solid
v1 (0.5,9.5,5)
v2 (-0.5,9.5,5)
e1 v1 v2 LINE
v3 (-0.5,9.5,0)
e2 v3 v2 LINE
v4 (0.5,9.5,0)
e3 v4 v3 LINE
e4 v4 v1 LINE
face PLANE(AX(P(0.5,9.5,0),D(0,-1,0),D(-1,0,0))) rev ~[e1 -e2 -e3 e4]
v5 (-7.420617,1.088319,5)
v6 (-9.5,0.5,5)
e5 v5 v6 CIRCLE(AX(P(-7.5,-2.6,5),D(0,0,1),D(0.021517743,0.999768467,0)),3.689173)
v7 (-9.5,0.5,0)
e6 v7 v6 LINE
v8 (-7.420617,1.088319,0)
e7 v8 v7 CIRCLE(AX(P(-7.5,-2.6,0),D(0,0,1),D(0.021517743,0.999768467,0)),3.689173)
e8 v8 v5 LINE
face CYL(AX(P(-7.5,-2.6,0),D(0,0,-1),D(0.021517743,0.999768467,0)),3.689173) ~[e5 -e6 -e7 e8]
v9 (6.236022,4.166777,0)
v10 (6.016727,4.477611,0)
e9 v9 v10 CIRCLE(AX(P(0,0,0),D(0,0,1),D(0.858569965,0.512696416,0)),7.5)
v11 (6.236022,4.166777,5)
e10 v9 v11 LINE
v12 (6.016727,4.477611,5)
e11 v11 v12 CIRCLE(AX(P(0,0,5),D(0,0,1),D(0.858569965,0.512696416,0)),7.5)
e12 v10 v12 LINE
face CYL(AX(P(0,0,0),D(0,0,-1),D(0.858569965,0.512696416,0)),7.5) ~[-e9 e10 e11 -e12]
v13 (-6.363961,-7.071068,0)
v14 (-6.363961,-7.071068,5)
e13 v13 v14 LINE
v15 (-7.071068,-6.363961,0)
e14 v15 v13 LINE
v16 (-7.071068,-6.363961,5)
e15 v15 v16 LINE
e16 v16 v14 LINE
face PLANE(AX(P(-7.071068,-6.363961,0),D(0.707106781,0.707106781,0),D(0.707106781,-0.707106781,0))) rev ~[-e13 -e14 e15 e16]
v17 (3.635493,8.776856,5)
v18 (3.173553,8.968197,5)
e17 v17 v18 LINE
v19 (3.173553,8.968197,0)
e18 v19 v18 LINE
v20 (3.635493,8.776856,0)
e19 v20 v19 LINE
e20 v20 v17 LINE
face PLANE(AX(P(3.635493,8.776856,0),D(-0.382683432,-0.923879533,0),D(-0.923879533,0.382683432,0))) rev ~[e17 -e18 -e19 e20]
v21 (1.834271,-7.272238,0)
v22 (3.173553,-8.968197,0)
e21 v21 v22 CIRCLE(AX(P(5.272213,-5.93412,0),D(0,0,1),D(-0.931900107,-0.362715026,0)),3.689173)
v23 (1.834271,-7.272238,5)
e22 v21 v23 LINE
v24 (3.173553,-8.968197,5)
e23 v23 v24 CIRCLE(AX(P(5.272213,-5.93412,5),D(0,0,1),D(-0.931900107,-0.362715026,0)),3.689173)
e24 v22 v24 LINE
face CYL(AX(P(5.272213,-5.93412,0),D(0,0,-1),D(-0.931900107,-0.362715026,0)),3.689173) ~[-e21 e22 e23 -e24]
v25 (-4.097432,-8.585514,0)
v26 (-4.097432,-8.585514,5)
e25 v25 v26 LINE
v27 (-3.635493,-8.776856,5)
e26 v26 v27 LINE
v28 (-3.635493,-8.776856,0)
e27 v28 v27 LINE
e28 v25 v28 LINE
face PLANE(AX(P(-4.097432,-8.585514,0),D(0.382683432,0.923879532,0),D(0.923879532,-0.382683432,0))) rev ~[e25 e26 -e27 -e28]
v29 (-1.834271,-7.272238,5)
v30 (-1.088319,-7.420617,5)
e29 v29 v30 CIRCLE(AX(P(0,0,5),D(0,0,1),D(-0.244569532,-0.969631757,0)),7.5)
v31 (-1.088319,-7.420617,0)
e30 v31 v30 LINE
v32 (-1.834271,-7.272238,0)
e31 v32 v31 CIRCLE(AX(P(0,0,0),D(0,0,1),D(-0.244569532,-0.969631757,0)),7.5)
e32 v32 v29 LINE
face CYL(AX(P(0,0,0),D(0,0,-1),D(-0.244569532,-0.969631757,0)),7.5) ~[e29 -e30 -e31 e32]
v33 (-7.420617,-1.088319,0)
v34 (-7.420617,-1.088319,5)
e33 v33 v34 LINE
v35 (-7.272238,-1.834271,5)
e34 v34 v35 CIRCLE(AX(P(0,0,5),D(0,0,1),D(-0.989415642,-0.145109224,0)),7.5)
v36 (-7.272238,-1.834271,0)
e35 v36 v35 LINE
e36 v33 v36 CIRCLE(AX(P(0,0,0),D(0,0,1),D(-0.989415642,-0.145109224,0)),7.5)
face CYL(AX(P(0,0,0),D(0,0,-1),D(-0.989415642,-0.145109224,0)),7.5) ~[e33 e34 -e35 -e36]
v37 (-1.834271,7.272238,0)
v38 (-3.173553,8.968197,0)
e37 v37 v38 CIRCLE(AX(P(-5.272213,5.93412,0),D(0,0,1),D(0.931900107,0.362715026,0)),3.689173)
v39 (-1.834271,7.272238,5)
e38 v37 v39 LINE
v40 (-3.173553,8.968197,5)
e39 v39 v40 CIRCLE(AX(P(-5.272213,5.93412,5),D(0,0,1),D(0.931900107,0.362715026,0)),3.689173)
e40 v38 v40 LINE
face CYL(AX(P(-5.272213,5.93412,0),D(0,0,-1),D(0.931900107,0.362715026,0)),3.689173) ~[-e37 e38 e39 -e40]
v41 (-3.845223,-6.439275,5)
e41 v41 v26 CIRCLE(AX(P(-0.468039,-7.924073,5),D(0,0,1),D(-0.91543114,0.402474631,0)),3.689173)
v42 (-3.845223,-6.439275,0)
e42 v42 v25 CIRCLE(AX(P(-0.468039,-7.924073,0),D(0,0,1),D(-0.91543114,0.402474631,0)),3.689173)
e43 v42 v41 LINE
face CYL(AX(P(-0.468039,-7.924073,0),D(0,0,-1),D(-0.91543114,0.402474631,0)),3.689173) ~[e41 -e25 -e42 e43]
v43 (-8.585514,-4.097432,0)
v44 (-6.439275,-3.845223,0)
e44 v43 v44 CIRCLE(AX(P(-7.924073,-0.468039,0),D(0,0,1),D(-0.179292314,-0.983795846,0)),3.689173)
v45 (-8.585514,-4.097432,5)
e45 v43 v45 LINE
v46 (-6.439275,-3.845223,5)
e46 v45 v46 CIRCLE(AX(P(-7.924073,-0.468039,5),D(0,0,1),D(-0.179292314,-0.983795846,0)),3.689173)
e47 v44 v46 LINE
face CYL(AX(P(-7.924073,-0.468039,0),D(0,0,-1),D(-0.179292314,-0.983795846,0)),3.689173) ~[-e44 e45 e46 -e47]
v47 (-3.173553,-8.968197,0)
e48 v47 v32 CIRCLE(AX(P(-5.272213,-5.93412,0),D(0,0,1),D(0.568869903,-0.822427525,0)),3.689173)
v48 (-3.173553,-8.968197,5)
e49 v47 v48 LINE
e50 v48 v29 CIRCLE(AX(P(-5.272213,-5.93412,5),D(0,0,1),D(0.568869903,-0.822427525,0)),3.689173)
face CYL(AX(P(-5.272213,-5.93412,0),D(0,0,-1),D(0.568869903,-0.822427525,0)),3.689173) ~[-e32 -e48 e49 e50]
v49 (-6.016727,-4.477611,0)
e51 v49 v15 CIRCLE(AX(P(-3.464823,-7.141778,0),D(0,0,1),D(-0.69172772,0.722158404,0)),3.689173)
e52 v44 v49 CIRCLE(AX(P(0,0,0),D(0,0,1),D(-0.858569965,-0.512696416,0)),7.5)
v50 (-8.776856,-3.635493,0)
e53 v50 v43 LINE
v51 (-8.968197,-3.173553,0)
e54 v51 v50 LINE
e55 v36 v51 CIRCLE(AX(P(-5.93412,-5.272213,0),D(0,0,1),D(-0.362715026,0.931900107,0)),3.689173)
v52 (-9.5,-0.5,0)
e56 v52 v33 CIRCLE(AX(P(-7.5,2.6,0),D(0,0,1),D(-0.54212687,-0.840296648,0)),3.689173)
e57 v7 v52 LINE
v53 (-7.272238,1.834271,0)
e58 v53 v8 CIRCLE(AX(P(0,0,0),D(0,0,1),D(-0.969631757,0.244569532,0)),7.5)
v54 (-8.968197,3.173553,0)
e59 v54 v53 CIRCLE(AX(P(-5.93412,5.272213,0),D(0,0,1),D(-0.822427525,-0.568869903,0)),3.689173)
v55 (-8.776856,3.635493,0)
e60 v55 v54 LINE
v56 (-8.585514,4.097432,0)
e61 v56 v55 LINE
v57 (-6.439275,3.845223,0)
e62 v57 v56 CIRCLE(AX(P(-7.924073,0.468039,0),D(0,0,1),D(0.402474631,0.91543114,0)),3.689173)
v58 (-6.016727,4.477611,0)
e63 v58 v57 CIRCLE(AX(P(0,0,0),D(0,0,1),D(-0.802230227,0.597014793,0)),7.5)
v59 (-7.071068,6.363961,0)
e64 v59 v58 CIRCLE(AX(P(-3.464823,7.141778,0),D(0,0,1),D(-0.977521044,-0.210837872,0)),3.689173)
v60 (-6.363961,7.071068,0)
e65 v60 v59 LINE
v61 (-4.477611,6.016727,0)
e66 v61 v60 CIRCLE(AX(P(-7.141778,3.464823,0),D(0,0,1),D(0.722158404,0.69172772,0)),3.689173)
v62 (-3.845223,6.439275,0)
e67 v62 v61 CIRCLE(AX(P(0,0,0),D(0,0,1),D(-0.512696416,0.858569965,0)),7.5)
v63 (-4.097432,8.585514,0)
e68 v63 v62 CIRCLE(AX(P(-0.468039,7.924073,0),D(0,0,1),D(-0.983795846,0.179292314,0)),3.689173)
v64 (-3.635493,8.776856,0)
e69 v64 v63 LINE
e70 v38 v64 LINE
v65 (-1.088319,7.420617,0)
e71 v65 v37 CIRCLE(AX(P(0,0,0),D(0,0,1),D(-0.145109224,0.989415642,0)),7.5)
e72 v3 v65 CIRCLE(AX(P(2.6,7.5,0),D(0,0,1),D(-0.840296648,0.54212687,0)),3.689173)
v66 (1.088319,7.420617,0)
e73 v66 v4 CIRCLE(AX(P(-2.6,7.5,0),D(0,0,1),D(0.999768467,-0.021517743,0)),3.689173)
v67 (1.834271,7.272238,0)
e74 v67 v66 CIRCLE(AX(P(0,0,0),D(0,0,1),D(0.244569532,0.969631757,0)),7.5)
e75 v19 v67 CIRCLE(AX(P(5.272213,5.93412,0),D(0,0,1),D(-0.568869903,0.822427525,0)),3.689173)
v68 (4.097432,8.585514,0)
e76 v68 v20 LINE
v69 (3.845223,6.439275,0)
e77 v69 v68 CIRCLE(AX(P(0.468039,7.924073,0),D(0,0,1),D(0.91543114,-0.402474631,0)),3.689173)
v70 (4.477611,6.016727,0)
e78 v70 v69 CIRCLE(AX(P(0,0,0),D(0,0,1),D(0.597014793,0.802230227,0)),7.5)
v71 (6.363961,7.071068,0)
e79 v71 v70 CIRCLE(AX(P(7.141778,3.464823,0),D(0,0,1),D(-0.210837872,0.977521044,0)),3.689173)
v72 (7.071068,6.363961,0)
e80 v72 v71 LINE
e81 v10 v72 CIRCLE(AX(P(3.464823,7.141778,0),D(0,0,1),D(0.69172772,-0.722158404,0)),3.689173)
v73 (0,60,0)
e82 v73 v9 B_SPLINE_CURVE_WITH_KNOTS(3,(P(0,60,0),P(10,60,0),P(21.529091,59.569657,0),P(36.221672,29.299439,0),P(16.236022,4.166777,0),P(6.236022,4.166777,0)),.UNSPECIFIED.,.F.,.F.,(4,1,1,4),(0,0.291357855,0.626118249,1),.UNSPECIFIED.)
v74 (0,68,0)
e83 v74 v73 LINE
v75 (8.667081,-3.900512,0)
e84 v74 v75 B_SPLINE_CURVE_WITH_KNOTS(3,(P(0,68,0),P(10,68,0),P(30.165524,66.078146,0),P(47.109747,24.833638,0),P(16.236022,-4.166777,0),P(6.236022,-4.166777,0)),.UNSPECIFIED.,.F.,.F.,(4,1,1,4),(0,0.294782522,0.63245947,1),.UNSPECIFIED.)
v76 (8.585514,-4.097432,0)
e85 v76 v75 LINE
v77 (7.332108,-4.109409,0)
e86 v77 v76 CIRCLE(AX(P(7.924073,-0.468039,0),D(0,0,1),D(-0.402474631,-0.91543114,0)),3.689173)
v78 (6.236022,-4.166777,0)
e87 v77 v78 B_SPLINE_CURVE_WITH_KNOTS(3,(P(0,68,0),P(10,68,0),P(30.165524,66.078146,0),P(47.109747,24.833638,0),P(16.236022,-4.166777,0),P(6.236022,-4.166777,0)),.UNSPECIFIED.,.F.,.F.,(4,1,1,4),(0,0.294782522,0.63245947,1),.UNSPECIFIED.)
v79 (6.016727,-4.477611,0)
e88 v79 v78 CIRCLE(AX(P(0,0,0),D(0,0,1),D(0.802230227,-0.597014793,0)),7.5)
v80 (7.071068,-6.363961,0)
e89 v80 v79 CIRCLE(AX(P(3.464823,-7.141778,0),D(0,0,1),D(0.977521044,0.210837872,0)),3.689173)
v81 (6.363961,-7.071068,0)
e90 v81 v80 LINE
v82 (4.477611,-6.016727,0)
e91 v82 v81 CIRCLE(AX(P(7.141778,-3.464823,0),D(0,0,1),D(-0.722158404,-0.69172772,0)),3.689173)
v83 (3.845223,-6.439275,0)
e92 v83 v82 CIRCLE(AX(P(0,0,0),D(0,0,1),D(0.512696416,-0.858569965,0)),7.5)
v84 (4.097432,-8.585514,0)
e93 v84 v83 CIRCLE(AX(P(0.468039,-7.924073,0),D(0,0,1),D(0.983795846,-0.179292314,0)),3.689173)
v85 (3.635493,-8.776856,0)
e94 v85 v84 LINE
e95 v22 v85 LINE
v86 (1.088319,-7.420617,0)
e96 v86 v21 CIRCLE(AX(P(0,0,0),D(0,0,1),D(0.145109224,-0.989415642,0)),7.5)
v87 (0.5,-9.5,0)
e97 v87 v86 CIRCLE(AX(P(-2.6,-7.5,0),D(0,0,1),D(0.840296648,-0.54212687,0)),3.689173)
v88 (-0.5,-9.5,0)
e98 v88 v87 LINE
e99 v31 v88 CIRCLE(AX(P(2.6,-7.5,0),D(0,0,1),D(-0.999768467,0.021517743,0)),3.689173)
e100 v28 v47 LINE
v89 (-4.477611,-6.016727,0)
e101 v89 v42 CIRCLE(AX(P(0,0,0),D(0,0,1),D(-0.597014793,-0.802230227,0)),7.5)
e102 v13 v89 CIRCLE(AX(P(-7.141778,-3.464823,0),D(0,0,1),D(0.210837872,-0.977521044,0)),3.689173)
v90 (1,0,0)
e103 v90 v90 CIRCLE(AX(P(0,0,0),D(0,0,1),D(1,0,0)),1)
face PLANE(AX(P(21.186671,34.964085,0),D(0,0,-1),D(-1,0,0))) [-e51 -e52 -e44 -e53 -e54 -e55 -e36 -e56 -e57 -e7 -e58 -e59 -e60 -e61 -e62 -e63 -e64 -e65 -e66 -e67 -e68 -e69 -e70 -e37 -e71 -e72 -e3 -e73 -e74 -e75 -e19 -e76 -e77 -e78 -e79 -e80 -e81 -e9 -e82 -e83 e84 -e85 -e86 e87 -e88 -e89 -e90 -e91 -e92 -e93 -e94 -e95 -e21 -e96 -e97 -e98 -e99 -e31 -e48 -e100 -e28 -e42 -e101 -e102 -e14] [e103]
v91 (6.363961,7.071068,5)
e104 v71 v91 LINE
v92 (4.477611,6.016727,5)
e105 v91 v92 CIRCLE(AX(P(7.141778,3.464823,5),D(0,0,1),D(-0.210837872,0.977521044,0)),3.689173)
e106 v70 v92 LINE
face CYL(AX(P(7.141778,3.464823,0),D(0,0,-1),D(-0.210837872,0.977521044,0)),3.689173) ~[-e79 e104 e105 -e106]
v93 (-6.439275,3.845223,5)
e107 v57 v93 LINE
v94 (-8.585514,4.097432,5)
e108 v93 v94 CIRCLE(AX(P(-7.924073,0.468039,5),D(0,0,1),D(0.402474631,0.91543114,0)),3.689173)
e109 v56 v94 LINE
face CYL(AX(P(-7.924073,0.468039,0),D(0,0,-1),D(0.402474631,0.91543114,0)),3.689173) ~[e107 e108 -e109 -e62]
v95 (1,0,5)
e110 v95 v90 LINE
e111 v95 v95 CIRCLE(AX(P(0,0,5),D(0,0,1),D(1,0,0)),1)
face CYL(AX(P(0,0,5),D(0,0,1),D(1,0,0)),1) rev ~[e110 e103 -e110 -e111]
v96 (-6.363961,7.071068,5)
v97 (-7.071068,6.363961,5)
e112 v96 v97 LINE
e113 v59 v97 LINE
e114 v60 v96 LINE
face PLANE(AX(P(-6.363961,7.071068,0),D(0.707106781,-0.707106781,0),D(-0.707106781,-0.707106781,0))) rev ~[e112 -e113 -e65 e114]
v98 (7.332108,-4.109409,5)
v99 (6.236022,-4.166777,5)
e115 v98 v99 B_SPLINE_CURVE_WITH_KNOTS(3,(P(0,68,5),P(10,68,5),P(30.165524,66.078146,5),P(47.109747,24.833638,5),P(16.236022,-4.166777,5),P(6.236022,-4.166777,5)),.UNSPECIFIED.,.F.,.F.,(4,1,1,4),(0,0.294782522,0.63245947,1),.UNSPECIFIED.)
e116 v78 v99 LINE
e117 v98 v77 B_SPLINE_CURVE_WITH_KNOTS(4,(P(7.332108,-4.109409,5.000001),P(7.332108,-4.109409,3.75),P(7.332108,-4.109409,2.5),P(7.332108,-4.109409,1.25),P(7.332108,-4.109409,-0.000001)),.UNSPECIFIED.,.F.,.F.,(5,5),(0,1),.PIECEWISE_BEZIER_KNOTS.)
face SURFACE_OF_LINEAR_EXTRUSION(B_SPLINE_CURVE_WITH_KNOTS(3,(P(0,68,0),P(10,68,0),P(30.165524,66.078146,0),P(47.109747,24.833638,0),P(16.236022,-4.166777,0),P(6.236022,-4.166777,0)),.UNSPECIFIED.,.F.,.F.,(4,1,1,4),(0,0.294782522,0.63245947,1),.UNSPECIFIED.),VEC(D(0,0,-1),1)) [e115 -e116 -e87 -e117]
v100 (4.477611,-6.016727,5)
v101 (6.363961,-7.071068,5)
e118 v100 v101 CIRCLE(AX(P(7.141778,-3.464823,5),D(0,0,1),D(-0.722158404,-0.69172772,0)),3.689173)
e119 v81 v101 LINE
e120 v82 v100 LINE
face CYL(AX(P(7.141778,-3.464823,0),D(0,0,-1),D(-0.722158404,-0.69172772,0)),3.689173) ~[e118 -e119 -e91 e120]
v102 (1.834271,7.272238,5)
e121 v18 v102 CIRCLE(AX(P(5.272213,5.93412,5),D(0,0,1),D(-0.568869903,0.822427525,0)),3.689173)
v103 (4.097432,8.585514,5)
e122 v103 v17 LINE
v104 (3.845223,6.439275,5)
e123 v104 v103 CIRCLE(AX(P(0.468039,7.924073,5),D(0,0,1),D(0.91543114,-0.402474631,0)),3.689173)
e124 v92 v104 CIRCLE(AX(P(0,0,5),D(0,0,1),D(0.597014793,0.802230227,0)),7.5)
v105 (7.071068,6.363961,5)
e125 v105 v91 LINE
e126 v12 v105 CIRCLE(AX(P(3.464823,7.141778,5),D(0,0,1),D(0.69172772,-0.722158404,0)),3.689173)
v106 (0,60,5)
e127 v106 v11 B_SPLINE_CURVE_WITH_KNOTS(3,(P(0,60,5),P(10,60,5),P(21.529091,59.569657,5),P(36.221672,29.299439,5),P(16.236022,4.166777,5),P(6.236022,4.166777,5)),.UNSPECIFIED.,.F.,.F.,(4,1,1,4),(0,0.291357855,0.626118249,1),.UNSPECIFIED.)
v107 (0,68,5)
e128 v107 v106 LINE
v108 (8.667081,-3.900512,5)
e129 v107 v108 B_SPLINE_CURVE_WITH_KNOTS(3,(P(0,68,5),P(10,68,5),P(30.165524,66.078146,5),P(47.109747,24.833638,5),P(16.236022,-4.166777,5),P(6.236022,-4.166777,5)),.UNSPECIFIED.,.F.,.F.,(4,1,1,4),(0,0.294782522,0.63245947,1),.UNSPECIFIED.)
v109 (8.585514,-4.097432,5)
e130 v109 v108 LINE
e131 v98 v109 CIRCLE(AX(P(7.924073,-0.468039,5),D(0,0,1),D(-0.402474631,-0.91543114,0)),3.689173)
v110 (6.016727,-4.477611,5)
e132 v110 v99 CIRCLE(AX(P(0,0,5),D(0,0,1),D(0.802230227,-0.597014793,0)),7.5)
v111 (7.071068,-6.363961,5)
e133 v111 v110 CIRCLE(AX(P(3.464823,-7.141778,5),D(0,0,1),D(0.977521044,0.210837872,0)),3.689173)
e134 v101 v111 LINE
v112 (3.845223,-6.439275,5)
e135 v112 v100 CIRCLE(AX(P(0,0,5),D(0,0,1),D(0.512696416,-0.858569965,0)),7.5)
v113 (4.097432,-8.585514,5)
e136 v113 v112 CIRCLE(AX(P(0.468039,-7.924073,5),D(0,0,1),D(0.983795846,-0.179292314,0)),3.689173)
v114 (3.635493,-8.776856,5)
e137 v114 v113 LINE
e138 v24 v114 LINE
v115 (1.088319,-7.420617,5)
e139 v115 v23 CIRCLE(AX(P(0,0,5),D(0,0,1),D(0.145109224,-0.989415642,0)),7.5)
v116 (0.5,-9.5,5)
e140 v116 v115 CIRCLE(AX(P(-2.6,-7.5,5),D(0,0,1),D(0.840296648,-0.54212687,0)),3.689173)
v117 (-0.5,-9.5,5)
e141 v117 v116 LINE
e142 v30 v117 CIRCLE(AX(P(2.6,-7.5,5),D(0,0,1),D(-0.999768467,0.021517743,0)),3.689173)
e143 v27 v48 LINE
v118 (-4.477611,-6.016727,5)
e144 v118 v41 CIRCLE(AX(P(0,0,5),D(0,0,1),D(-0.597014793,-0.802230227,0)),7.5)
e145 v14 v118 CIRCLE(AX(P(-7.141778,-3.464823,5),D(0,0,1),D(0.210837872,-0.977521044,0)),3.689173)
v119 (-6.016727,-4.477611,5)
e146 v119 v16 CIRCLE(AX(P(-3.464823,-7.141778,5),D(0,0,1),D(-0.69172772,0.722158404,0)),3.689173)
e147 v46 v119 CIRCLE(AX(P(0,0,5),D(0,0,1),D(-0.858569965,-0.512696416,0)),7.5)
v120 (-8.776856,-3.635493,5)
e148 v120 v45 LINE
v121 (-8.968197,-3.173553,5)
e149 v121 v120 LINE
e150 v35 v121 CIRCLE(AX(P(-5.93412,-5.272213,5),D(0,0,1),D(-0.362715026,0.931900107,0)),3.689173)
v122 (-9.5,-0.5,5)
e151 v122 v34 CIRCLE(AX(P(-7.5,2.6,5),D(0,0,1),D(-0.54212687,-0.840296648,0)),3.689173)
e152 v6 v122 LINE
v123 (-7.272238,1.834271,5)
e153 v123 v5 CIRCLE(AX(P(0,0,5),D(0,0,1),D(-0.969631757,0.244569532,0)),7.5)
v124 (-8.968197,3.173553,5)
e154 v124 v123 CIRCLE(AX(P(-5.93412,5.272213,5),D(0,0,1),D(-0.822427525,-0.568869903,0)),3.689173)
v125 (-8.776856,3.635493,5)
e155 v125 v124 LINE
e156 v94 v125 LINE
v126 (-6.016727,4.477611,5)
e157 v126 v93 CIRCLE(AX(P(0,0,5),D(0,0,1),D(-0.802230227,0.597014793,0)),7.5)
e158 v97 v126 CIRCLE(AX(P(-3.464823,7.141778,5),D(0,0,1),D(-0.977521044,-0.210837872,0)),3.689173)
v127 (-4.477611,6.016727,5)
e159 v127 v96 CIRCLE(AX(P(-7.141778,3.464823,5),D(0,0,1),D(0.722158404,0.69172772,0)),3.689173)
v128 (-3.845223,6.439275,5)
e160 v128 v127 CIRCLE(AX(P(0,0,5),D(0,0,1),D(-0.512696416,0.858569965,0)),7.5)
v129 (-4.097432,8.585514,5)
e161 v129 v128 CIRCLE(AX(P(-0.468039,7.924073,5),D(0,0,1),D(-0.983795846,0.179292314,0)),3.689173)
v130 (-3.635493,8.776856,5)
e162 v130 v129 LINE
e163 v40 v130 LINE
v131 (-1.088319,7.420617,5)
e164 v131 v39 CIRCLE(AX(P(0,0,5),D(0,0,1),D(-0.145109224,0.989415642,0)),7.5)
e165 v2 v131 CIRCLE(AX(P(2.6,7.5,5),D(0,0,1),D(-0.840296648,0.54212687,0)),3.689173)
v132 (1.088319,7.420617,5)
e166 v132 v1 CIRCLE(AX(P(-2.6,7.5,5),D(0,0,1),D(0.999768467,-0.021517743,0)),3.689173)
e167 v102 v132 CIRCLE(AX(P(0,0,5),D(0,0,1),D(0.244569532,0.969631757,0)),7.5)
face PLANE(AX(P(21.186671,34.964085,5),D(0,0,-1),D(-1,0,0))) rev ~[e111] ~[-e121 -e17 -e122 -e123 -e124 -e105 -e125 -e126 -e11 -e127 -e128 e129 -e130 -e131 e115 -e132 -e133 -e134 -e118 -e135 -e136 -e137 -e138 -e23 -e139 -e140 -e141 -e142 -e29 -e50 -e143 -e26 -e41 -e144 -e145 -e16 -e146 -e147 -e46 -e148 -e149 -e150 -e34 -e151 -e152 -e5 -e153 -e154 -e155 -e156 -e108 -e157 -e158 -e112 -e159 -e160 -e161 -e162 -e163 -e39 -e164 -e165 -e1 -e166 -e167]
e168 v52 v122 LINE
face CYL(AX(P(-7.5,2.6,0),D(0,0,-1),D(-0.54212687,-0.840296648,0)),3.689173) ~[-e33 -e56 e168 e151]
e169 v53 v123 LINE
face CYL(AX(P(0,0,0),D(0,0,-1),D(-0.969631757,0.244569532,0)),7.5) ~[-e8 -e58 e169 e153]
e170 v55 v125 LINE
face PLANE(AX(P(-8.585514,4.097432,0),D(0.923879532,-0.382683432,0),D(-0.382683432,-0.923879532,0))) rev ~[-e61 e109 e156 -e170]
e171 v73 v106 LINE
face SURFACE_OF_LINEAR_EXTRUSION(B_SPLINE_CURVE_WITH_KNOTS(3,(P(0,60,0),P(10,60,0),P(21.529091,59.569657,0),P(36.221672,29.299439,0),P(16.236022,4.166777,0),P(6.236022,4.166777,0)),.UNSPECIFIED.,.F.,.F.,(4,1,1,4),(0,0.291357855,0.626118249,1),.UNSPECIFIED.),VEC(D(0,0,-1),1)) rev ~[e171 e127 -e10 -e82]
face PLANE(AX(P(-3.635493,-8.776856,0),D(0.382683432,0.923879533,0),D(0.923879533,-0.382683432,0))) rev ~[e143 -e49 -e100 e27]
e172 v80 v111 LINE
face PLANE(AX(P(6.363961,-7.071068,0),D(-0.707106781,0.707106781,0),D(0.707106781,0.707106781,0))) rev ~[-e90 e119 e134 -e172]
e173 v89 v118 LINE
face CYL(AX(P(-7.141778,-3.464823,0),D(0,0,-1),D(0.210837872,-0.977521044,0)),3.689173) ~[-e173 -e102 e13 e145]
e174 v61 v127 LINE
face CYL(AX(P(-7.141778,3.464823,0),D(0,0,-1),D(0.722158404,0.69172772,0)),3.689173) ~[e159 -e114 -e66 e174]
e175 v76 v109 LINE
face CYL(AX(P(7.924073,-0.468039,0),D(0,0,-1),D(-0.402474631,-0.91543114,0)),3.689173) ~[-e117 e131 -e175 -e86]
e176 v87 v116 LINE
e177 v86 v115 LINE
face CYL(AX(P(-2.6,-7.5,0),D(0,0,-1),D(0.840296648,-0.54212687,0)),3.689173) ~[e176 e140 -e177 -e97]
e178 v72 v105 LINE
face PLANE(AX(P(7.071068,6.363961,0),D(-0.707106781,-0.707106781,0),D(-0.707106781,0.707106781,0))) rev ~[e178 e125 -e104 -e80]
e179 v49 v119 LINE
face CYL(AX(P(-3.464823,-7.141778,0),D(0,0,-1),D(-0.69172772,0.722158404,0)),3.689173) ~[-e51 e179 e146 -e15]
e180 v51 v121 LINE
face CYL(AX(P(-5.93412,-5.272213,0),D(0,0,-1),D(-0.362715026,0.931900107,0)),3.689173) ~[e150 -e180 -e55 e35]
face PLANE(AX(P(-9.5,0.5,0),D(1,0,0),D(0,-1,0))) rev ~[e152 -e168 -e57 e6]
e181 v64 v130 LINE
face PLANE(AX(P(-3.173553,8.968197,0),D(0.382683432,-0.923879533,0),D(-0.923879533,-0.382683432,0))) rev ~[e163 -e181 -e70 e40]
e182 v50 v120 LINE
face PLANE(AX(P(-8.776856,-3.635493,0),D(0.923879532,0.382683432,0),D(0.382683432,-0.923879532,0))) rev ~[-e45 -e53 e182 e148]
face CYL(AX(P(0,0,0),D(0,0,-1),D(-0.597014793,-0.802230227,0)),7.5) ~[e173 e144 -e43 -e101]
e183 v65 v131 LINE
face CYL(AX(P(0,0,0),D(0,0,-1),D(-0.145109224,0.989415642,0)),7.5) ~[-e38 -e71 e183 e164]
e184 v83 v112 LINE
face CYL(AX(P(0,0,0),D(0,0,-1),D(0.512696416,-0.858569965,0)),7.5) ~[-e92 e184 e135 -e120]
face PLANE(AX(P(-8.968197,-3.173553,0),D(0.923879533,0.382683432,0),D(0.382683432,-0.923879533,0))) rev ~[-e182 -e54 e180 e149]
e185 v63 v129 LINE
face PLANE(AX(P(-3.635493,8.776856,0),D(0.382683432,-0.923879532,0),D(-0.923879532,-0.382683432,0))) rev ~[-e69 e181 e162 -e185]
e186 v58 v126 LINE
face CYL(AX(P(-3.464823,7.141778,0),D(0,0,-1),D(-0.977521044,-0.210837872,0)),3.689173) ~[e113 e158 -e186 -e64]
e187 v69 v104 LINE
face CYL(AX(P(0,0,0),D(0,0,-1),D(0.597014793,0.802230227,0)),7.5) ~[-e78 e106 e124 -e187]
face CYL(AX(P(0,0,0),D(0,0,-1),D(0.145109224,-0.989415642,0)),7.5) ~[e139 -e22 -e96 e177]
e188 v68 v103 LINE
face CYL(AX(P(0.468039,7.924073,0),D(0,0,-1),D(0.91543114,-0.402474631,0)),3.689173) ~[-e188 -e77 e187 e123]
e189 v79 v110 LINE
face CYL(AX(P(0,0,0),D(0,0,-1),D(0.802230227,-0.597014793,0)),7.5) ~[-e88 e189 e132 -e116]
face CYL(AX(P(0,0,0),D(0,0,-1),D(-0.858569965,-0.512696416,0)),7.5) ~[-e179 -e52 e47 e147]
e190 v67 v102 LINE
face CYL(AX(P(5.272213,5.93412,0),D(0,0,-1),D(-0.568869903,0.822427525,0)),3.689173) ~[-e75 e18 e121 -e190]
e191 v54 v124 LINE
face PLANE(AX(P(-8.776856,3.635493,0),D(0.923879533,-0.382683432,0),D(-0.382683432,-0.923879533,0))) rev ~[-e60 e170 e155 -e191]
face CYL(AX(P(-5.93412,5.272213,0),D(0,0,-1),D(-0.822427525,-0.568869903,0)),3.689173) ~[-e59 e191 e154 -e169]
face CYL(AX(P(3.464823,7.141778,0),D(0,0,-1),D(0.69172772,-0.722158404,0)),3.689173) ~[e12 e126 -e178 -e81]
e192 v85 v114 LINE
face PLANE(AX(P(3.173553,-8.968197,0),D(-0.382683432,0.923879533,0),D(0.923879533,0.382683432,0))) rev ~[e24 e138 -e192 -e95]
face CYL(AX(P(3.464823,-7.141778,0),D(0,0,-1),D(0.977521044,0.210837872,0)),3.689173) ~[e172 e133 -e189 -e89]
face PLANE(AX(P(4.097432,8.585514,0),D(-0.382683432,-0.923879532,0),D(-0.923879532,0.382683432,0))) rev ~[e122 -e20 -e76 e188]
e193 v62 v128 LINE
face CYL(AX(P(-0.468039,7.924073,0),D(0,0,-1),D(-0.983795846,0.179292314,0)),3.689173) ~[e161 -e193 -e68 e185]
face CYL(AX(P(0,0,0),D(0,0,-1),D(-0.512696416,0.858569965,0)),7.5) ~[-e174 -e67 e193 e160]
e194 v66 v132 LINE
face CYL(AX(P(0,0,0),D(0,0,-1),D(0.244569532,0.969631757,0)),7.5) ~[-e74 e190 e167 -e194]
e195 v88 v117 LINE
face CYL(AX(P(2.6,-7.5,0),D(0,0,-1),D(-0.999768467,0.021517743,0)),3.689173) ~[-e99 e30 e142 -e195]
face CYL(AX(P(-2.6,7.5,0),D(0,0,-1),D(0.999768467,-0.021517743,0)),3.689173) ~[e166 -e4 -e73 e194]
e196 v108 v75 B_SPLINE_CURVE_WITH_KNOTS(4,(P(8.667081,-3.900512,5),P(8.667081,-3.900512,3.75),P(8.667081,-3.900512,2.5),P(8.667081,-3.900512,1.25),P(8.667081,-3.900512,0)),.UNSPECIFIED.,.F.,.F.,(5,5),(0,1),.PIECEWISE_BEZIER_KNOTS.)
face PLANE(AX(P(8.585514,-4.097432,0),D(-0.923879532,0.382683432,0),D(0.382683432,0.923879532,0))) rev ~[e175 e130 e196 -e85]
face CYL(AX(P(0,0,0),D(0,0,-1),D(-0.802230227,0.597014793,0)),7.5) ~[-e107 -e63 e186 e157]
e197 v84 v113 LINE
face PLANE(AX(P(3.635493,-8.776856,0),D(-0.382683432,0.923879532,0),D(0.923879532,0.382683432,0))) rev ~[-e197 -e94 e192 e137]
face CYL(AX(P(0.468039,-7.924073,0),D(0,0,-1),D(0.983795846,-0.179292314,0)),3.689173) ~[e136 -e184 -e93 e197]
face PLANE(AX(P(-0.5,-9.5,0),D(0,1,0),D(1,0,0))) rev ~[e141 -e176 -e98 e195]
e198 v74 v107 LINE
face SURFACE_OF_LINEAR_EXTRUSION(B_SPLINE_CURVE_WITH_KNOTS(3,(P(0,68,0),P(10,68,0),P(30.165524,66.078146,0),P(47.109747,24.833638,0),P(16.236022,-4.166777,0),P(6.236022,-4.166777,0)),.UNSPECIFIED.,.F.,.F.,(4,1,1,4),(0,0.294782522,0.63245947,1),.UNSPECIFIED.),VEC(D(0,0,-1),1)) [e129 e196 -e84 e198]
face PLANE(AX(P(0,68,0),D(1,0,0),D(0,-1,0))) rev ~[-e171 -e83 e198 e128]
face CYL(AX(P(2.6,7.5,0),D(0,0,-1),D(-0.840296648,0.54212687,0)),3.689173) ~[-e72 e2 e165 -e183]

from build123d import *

# Parameters (mm, degrees)
F1_DEPTH = 5
F2_R     = 1
F3_DEPTH = 5.001
F5_DEPTH = 5


with BuildPart() as f1:
    # F0 (on Top) → F1 (new body)
    with BuildSketch(Plane.XY):
        with BuildLine():
            ThreePointArc((7.4206173165, -1.0883191822), (7.4801280027, -0.5456052265), (7.5, 0))
            ThreePointArc((7.5, 0), (7.4801280027, 0.5456052265), (7.4206173165, 1.0883191822))
            ThreePointArc((7.4206173165, 1.0883191822), (7.355889603, 1.4631774151), (7.2722381774, 1.8342714877))
            ThreePointArc((7.2722381774, 1.8342714877), (6.9290964938, 2.8701257427), (6.4392747372, 3.8452231222))
            ThreePointArc((6.4392747372, 3.8452231222), (6.2360220923, 4.1667767476), (6.0167266989, 4.4776109513))
            ThreePointArc((6.0167266989, 4.4776109513), (5.3033008589, 5.3033008589), (4.4776109513, 6.0167266989))
            ThreePointArc((4.4776109513, 6.0167266989), (4.1667767476, 6.2360220923), (3.8452231222, 6.4392747372))
            ThreePointArc((3.8452231222, 6.4392747372), (2.8701257427, 6.9290964938), (1.8342714877, 7.2722381774))
            ThreePointArc((1.8342714877, 7.2722381774), (1.4631774151, 7.355889603), (1.0883191822, 7.4206173165))
            ThreePointArc((1.0883191822, 7.4206173165), (0.5456052265, 7.4801280027), (0, 7.5))
            ThreePointArc((0, 7.5), (-0.5456052265, 7.4801280027), (-1.0883191822, 7.4206173165))
            ThreePointArc((-1.0883191822, 7.4206173165), (-1.4631774151, 7.355889603), (-1.8342714877, 7.2722381774))
            ThreePointArc((-1.8342714877, 7.2722381774), (-2.8701257427, 6.9290964938), (-3.8452231222, 6.4392747372))
            ThreePointArc((-3.8452231222, 6.4392747372), (-4.1667767476, 6.2360220923), (-4.4776109513, 6.0167266989))
            ThreePointArc((-4.4776109513, 6.0167266989), (-5.3033008589, 5.3033008589), (-6.0167266989, 4.4776109513))
            ThreePointArc((-6.0167266989, 4.4776109513), (-6.2360220923, 4.1667767476), (-6.4392747372, 3.8452231222))
            ThreePointArc((-6.4392747372, 3.8452231222), (-6.9290964938, 2.8701257427), (-7.2722381774, 1.8342714877))
            ThreePointArc((-7.2722381774, 1.8342714877), (-7.355889603, 1.4631774151), (-7.4206173165, 1.0883191822))
            ThreePointArc((-7.4206173165, 1.0883191822), (-7.5, 0), (-7.4206173165, -1.0883191822))
            ThreePointArc((-7.4206173165, -1.0883191822), (-7.355889603, -1.4631774151), (-7.2722381774, -1.8342714877))
            ThreePointArc((-7.2722381774, -1.8342714877), (-6.9290964938, -2.8701257427), (-6.4392747372, -3.8452231222))
            ThreePointArc((-6.4392747372, -3.8452231222), (-6.2360220923, -4.1667767476), (-6.0167266989, -4.4776109513))
            ThreePointArc((-6.0167266989, -4.4776109513), (-5.3033008589, -5.3033008589), (-4.4776109513, -6.0167266989))
            ThreePointArc((-4.4776109513, -6.0167266989), (-4.1667767476, -6.2360220923), (-3.8452231222, -6.4392747372))
            ThreePointArc((-3.8452231222, -6.4392747372), (-2.8701257427, -6.9290964938), (-1.8342714877, -7.2722381774))
            ThreePointArc((-1.8342714877, -7.2722381774), (-1.4631774151, -7.355889603), (-1.0883191822, -7.4206173165))
            ThreePointArc((-1.0883191822, -7.4206173165), (0, -7.5), (1.0883191822, -7.4206173165))
            ThreePointArc((1.0883191822, -7.4206173165), (1.4631774151, -7.355889603), (1.8342714877, -7.2722381774))
            ThreePointArc((1.8342714877, -7.2722381774), (2.8701257427, -6.9290964938), (3.8452231222, -6.4392747372))
            ThreePointArc((3.8452231222, -6.4392747372), (4.1667767476, -6.2360220923), (4.4776109513, -6.0167266989))
            ThreePointArc((4.4776109513, -6.0167266989), (5.3033008589, -5.3033008589), (6.0167266989, -4.4776109513))
            ThreePointArc((6.0167266989, -4.4776109513), (6.2360220923, -4.1667767476), (6.4392747372, -3.8452231222))
            ThreePointArc((6.4392747372, -3.8452231222), (6.9290964938, -2.8701257427), (7.2722381774, -1.8342714877))
            ThreePointArc((7.2722381774, -1.8342714877), (7.355889603, -1.4631774151), (7.4206173165, -1.0883191822))
        make_face()
        with BuildLine():
            ThreePointArc((7.4206173165, 1.0883191822), (7.4801280027, 0.5456052265), (7.5, 0))
            ThreePointArc((7.5, 0), (7.4801280027, -0.5456052265), (7.4206173165, -1.0883191822))
            ThreePointArc((7.4206173165, -1.0883191822), (8.5043518229, -0.9498278009), (9.5, -0.5))
            Line((9.5, -0.5), (9.5, 0))
            Line((9.5, 0), (9.5, 0.5))
            ThreePointArc((9.5, 0.5), (8.5043518229, 0.9498278009), (7.4206173165, 1.0883191822))
        make_face()
        with BuildLine():
            ThreePointArc((6.4392747372, 3.8452231222), (6.9290964938, 2.8701257427), (7.2722381774, 1.8342714877))
            ThreePointArc((7.2722381774, 1.8342714877), (8.2204799494, 2.376948081), (8.968197275, 3.1735528412))
            Line((8.968197275, 3.1735528412), (8.7768555589, 3.6354926075))
            Line((8.7768555589, 3.6354926075), (8.5855138427, 4.0974323737))
            ThreePointArc((8.5855138427, 4.0974323737), (7.4935132234, 4.1320010103), (6.4392747372, 3.8452231222))
        make_face()
        with BuildLine():
            ThreePointArc((8.968197275, -3.1735528412), (8.2204799494, -2.376948081), (7.2722381774, -1.8342714877))
            ThreePointArc((7.2722381774, -1.8342714877), (6.9290964938, -2.8701257427), (6.4392747372, -3.8452231222))
            ThreePointArc((6.4392747372, -3.8452231222), (7.4935132234, -4.1320010103), (8.5855138427, -4.0974323737))
            Line((8.5855138427, -4.0974323737), (8.7768555589, -3.6354926075))
            Line((8.7768555589, -3.6354926075), (8.968197275, -3.1735528412))
        make_face()
        with BuildLine():
            ThreePointArc((4.4776109513, 6.0167266989), (5.3033008589, 5.3033008589), (6.0167266989, 4.4776109513))
            ThreePointArc((6.0167266989, 4.4776109513), (6.6851145225, 5.3418551646), (7.0710678119, 6.3639610307))
            Line((7.0710678119, 6.3639610307), (6.7175144213, 6.7175144213))
            Line((6.7175144213, 6.7175144213), (6.3639610307, 7.0710678119))
            ThreePointArc((6.3639610307, 7.0710678119), (5.3418551646, 6.6851145225), (4.4776109513, 6.0167266989))
        make_face()
        with BuildLine():
            ThreePointArc((7.0710678119, -6.3639610307), (6.6851145225, -5.3418551646), (6.0167266989, -4.4776109513))
            ThreePointArc((6.0167266989, -4.4776109513), (5.3033008589, -5.3033008589), (4.4776109513, -6.0167266989))
            ThreePointArc((4.4776109513, -6.0167266989), (5.3418551646, -6.6851145225), (6.3639610307, -7.0710678119))
            Line((6.3639610307, -7.0710678119), (6.7175144213, -6.7175144213))
            Line((6.7175144213, -6.7175144213), (7.0710678119, -6.3639610307))
        make_face()
        with BuildLine():
            ThreePointArc((1.8342714877, 7.2722381774), (2.8701257427, 6.9290964938), (3.8452231222, 6.4392747372))
            ThreePointArc((3.8452231222, 6.4392747372), (4.1320010103, 7.4935132234), (4.0974323737, 8.5855138427))
            Line((4.0974323737, 8.5855138427), (3.6354926075, 8.7768555589))
            Line((3.6354926075, 8.7768555589), (3.1735528412, 8.968197275))
            ThreePointArc((3.1735528412, 8.968197275), (2.376948081, 8.2204799494), (1.8342714877, 7.2722381774))
        make_face()
        with BuildLine():
            ThreePointArc((4.0974323737, -8.5855138427), (4.1320010103, -7.4935132234), (3.8452231222, -6.4392747372))
            ThreePointArc((3.8452231222, -6.4392747372), (2.8701257427, -6.9290964938), (1.8342714877, -7.2722381774))
            ThreePointArc((1.8342714877, -7.2722381774), (2.376948081, -8.2204799494), (3.1735528412, -8.968197275))
            Line((3.1735528412, -8.968197275), (3.6354926075, -8.7768555589))
            Line((3.6354926075, -8.7768555589), (4.0974323737, -8.5855138427))
        make_face()
        with BuildLine():
            ThreePointArc((0, 7.5), (0.5456052265, 7.4801280027), (1.0883191822, 7.4206173165))
            ThreePointArc((1.0883191822, 7.4206173165), (0.9498278009, 8.5043518229), (0.5, 9.5))
            Line((0.5, 9.5), (0, 9.5))
            Line((0, 9.5), (0, 7.5))
        make_face()
        with BuildLine():
            ThreePointArc((0.5, -9.5), (0.9498278009, -8.5043518229), (1.0883191822, -7.4206173165))
            ThreePointArc((1.0883191822, -7.4206173165), (0, -7.5), (-1.0883191822, -7.4206173165))
            ThreePointArc((-1.0883191822, -7.4206173165), (-0.9498278009, -8.5043518229), (-0.5, -9.5))
            Line((-0.5, -9.5), (0, -9.5))
            Line((0, -9.5), (0.5, -9.5))
        make_face()
        with BuildLine():
            ThreePointArc((-1.0883191822, 7.4206173165), (-0.5456052265, 7.4801280027), (0, 7.5))
            Line((0, 7.5), (0, 9.5))
            Line((0, 9.5), (-0.5, 9.5))
            ThreePointArc((-0.5, 9.5), (-0.9498278009, 8.5043518229), (-1.0883191822, 7.4206173165))
        make_face()
        with BuildLine():
            ThreePointArc((-3.1735528412, -8.968197275), (-2.376948081, -8.2204799494), (-1.8342714877, -7.2722381774))
            ThreePointArc((-1.8342714877, -7.2722381774), (-2.8701257427, -6.9290964938), (-3.8452231222, -6.4392747372))
            ThreePointArc((-3.8452231222, -6.4392747372), (-4.1320010103, -7.4935132234), (-4.0974323737, -8.5855138427))
            Line((-4.0974323737, -8.5855138427), (-3.6354926075, -8.7768555589))
            Line((-3.6354926075, -8.7768555589), (-3.1735528412, -8.968197275))
        make_face()
        with BuildLine():
            ThreePointArc((-3.8452231222, 6.4392747372), (-2.8701257427, 6.9290964938), (-1.8342714877, 7.2722381774))
            ThreePointArc((-1.8342714877, 7.2722381774), (-2.376948081, 8.2204799494), (-3.1735528412, 8.968197275))
            Line((-3.1735528412, 8.968197275), (-3.6354926075, 8.7768555589))
            Line((-3.6354926075, 8.7768555589), (-4.0974323737, 8.5855138427))
            ThreePointArc((-4.0974323737, 8.5855138427), (-4.1320010103, 7.4935132234), (-3.8452231222, 6.4392747372))
        make_face()
        with BuildLine():
            ThreePointArc((-6.3639610307, -7.0710678119), (-5.3418551646, -6.6851145225), (-4.4776109513, -6.0167266989))
            ThreePointArc((-4.4776109513, -6.0167266989), (-5.3033008589, -5.3033008589), (-6.0167266989, -4.4776109513))
            ThreePointArc((-6.0167266989, -4.4776109513), (-6.6851145225, -5.3418551646), (-7.0710678119, -6.3639610307))
            Line((-7.0710678119, -6.3639610307), (-6.7175144213, -6.7175144213))
            Line((-6.7175144213, -6.7175144213), (-6.3639610307, -7.0710678119))
        make_face()
        with BuildLine():
            ThreePointArc((-6.0167266989, 4.4776109513), (-5.3033008589, 5.3033008589), (-4.4776109513, 6.0167266989))
            ThreePointArc((-4.4776109513, 6.0167266989), (-5.3418551646, 6.6851145225), (-6.3639610307, 7.0710678119))
            Line((-6.3639610307, 7.0710678119), (-6.7175144213, 6.7175144213))
            Line((-6.7175144213, 6.7175144213), (-7.0710678119, 6.3639610307))
            ThreePointArc((-7.0710678119, 6.3639610307), (-6.6851145225, 5.3418551646), (-6.0167266989, 4.4776109513))
        make_face()
        with BuildLine():
            ThreePointArc((-8.5855138427, -4.0974323737), (-7.4935132234, -4.1320010103), (-6.4392747372, -3.8452231222))
            ThreePointArc((-6.4392747372, -3.8452231222), (-6.9290964938, -2.8701257427), (-7.2722381774, -1.8342714877))
            ThreePointArc((-7.2722381774, -1.8342714877), (-8.2204799494, -2.376948081), (-8.968197275, -3.1735528412))
            Line((-8.968197275, -3.1735528412), (-8.7768555589, -3.6354926075))
            Line((-8.7768555589, -3.6354926075), (-8.5855138427, -4.0974323737))
        make_face()
        with BuildLine():
            ThreePointArc((-7.2722381774, 1.8342714877), (-6.9290964938, 2.8701257427), (-6.4392747372, 3.8452231222))
            ThreePointArc((-6.4392747372, 3.8452231222), (-7.4935132234, 4.1320010103), (-8.5855138427, 4.0974323737))
            Line((-8.5855138427, 4.0974323737), (-8.7768555589, 3.6354926075))
            Line((-8.7768555589, 3.6354926075), (-8.968197275, 3.1735528412))
            ThreePointArc((-8.968197275, 3.1735528412), (-8.2204799494, 2.376948081), (-7.2722381774, 1.8342714877))
        make_face()
        with BuildLine():
            ThreePointArc((-9.5, -0.5), (-8.5043518229, -0.9498278009), (-7.4206173165, -1.0883191822))
            ThreePointArc((-7.4206173165, -1.0883191822), (-7.5, 0), (-7.4206173165, 1.0883191822))
            ThreePointArc((-7.4206173165, 1.0883191822), (-8.5043518229, 0.9498278009), (-9.5, 0.5))
            Line((-9.5, 0.5), (-9.5, 0))
            Line((-9.5, 0), (-9.5, -0.5))
        make_face()
    extrude(amount=F1_DEPTH)

    # F2 (on face) → F3 (cut, through all)
    with BuildSketch(Plane.XY.offset(5)):
        Circle(F2_R)
    extrude(amount=-F3_DEPTH, mode=Mode.SUBTRACT)

    # F4 (on Top) → F5 (join, through all)
    with BuildSketch(Plane.XY):
        with BuildLine():
            add(Edge.make_bspline(
                [(0, 68), (10, 68), (30.1655239133, 66.078145558), (47.1097466115, 24.8336379116), (16.2360220923, -4.1667767476), (6.2360220923, -4.1667767476)],
                knots=[0, 0, 0, 0, 0.2947825221, 0.6324594703, 1, 1, 1, 1], degree=3))
            Line((0, 68), (0, 60))
            add(Edge.make_bspline(
                [(0, 60), (10, 60), (21.529090744, 59.5696569591), (36.221671874, 29.2994392061), (16.2360220923, 4.1667767476), (6.2360220923, 4.1667767476)],
                knots=[0, 0, 0, 0, 0.291357855, 0.6261182487, 1, 1, 1, 1], degree=3))
            Line((6.2360220923, 4.1667767476), (6.2360220923, -4.1667767476))
        make_face()
    extrude(amount=F5_DEPTH)


solid = f1.part
